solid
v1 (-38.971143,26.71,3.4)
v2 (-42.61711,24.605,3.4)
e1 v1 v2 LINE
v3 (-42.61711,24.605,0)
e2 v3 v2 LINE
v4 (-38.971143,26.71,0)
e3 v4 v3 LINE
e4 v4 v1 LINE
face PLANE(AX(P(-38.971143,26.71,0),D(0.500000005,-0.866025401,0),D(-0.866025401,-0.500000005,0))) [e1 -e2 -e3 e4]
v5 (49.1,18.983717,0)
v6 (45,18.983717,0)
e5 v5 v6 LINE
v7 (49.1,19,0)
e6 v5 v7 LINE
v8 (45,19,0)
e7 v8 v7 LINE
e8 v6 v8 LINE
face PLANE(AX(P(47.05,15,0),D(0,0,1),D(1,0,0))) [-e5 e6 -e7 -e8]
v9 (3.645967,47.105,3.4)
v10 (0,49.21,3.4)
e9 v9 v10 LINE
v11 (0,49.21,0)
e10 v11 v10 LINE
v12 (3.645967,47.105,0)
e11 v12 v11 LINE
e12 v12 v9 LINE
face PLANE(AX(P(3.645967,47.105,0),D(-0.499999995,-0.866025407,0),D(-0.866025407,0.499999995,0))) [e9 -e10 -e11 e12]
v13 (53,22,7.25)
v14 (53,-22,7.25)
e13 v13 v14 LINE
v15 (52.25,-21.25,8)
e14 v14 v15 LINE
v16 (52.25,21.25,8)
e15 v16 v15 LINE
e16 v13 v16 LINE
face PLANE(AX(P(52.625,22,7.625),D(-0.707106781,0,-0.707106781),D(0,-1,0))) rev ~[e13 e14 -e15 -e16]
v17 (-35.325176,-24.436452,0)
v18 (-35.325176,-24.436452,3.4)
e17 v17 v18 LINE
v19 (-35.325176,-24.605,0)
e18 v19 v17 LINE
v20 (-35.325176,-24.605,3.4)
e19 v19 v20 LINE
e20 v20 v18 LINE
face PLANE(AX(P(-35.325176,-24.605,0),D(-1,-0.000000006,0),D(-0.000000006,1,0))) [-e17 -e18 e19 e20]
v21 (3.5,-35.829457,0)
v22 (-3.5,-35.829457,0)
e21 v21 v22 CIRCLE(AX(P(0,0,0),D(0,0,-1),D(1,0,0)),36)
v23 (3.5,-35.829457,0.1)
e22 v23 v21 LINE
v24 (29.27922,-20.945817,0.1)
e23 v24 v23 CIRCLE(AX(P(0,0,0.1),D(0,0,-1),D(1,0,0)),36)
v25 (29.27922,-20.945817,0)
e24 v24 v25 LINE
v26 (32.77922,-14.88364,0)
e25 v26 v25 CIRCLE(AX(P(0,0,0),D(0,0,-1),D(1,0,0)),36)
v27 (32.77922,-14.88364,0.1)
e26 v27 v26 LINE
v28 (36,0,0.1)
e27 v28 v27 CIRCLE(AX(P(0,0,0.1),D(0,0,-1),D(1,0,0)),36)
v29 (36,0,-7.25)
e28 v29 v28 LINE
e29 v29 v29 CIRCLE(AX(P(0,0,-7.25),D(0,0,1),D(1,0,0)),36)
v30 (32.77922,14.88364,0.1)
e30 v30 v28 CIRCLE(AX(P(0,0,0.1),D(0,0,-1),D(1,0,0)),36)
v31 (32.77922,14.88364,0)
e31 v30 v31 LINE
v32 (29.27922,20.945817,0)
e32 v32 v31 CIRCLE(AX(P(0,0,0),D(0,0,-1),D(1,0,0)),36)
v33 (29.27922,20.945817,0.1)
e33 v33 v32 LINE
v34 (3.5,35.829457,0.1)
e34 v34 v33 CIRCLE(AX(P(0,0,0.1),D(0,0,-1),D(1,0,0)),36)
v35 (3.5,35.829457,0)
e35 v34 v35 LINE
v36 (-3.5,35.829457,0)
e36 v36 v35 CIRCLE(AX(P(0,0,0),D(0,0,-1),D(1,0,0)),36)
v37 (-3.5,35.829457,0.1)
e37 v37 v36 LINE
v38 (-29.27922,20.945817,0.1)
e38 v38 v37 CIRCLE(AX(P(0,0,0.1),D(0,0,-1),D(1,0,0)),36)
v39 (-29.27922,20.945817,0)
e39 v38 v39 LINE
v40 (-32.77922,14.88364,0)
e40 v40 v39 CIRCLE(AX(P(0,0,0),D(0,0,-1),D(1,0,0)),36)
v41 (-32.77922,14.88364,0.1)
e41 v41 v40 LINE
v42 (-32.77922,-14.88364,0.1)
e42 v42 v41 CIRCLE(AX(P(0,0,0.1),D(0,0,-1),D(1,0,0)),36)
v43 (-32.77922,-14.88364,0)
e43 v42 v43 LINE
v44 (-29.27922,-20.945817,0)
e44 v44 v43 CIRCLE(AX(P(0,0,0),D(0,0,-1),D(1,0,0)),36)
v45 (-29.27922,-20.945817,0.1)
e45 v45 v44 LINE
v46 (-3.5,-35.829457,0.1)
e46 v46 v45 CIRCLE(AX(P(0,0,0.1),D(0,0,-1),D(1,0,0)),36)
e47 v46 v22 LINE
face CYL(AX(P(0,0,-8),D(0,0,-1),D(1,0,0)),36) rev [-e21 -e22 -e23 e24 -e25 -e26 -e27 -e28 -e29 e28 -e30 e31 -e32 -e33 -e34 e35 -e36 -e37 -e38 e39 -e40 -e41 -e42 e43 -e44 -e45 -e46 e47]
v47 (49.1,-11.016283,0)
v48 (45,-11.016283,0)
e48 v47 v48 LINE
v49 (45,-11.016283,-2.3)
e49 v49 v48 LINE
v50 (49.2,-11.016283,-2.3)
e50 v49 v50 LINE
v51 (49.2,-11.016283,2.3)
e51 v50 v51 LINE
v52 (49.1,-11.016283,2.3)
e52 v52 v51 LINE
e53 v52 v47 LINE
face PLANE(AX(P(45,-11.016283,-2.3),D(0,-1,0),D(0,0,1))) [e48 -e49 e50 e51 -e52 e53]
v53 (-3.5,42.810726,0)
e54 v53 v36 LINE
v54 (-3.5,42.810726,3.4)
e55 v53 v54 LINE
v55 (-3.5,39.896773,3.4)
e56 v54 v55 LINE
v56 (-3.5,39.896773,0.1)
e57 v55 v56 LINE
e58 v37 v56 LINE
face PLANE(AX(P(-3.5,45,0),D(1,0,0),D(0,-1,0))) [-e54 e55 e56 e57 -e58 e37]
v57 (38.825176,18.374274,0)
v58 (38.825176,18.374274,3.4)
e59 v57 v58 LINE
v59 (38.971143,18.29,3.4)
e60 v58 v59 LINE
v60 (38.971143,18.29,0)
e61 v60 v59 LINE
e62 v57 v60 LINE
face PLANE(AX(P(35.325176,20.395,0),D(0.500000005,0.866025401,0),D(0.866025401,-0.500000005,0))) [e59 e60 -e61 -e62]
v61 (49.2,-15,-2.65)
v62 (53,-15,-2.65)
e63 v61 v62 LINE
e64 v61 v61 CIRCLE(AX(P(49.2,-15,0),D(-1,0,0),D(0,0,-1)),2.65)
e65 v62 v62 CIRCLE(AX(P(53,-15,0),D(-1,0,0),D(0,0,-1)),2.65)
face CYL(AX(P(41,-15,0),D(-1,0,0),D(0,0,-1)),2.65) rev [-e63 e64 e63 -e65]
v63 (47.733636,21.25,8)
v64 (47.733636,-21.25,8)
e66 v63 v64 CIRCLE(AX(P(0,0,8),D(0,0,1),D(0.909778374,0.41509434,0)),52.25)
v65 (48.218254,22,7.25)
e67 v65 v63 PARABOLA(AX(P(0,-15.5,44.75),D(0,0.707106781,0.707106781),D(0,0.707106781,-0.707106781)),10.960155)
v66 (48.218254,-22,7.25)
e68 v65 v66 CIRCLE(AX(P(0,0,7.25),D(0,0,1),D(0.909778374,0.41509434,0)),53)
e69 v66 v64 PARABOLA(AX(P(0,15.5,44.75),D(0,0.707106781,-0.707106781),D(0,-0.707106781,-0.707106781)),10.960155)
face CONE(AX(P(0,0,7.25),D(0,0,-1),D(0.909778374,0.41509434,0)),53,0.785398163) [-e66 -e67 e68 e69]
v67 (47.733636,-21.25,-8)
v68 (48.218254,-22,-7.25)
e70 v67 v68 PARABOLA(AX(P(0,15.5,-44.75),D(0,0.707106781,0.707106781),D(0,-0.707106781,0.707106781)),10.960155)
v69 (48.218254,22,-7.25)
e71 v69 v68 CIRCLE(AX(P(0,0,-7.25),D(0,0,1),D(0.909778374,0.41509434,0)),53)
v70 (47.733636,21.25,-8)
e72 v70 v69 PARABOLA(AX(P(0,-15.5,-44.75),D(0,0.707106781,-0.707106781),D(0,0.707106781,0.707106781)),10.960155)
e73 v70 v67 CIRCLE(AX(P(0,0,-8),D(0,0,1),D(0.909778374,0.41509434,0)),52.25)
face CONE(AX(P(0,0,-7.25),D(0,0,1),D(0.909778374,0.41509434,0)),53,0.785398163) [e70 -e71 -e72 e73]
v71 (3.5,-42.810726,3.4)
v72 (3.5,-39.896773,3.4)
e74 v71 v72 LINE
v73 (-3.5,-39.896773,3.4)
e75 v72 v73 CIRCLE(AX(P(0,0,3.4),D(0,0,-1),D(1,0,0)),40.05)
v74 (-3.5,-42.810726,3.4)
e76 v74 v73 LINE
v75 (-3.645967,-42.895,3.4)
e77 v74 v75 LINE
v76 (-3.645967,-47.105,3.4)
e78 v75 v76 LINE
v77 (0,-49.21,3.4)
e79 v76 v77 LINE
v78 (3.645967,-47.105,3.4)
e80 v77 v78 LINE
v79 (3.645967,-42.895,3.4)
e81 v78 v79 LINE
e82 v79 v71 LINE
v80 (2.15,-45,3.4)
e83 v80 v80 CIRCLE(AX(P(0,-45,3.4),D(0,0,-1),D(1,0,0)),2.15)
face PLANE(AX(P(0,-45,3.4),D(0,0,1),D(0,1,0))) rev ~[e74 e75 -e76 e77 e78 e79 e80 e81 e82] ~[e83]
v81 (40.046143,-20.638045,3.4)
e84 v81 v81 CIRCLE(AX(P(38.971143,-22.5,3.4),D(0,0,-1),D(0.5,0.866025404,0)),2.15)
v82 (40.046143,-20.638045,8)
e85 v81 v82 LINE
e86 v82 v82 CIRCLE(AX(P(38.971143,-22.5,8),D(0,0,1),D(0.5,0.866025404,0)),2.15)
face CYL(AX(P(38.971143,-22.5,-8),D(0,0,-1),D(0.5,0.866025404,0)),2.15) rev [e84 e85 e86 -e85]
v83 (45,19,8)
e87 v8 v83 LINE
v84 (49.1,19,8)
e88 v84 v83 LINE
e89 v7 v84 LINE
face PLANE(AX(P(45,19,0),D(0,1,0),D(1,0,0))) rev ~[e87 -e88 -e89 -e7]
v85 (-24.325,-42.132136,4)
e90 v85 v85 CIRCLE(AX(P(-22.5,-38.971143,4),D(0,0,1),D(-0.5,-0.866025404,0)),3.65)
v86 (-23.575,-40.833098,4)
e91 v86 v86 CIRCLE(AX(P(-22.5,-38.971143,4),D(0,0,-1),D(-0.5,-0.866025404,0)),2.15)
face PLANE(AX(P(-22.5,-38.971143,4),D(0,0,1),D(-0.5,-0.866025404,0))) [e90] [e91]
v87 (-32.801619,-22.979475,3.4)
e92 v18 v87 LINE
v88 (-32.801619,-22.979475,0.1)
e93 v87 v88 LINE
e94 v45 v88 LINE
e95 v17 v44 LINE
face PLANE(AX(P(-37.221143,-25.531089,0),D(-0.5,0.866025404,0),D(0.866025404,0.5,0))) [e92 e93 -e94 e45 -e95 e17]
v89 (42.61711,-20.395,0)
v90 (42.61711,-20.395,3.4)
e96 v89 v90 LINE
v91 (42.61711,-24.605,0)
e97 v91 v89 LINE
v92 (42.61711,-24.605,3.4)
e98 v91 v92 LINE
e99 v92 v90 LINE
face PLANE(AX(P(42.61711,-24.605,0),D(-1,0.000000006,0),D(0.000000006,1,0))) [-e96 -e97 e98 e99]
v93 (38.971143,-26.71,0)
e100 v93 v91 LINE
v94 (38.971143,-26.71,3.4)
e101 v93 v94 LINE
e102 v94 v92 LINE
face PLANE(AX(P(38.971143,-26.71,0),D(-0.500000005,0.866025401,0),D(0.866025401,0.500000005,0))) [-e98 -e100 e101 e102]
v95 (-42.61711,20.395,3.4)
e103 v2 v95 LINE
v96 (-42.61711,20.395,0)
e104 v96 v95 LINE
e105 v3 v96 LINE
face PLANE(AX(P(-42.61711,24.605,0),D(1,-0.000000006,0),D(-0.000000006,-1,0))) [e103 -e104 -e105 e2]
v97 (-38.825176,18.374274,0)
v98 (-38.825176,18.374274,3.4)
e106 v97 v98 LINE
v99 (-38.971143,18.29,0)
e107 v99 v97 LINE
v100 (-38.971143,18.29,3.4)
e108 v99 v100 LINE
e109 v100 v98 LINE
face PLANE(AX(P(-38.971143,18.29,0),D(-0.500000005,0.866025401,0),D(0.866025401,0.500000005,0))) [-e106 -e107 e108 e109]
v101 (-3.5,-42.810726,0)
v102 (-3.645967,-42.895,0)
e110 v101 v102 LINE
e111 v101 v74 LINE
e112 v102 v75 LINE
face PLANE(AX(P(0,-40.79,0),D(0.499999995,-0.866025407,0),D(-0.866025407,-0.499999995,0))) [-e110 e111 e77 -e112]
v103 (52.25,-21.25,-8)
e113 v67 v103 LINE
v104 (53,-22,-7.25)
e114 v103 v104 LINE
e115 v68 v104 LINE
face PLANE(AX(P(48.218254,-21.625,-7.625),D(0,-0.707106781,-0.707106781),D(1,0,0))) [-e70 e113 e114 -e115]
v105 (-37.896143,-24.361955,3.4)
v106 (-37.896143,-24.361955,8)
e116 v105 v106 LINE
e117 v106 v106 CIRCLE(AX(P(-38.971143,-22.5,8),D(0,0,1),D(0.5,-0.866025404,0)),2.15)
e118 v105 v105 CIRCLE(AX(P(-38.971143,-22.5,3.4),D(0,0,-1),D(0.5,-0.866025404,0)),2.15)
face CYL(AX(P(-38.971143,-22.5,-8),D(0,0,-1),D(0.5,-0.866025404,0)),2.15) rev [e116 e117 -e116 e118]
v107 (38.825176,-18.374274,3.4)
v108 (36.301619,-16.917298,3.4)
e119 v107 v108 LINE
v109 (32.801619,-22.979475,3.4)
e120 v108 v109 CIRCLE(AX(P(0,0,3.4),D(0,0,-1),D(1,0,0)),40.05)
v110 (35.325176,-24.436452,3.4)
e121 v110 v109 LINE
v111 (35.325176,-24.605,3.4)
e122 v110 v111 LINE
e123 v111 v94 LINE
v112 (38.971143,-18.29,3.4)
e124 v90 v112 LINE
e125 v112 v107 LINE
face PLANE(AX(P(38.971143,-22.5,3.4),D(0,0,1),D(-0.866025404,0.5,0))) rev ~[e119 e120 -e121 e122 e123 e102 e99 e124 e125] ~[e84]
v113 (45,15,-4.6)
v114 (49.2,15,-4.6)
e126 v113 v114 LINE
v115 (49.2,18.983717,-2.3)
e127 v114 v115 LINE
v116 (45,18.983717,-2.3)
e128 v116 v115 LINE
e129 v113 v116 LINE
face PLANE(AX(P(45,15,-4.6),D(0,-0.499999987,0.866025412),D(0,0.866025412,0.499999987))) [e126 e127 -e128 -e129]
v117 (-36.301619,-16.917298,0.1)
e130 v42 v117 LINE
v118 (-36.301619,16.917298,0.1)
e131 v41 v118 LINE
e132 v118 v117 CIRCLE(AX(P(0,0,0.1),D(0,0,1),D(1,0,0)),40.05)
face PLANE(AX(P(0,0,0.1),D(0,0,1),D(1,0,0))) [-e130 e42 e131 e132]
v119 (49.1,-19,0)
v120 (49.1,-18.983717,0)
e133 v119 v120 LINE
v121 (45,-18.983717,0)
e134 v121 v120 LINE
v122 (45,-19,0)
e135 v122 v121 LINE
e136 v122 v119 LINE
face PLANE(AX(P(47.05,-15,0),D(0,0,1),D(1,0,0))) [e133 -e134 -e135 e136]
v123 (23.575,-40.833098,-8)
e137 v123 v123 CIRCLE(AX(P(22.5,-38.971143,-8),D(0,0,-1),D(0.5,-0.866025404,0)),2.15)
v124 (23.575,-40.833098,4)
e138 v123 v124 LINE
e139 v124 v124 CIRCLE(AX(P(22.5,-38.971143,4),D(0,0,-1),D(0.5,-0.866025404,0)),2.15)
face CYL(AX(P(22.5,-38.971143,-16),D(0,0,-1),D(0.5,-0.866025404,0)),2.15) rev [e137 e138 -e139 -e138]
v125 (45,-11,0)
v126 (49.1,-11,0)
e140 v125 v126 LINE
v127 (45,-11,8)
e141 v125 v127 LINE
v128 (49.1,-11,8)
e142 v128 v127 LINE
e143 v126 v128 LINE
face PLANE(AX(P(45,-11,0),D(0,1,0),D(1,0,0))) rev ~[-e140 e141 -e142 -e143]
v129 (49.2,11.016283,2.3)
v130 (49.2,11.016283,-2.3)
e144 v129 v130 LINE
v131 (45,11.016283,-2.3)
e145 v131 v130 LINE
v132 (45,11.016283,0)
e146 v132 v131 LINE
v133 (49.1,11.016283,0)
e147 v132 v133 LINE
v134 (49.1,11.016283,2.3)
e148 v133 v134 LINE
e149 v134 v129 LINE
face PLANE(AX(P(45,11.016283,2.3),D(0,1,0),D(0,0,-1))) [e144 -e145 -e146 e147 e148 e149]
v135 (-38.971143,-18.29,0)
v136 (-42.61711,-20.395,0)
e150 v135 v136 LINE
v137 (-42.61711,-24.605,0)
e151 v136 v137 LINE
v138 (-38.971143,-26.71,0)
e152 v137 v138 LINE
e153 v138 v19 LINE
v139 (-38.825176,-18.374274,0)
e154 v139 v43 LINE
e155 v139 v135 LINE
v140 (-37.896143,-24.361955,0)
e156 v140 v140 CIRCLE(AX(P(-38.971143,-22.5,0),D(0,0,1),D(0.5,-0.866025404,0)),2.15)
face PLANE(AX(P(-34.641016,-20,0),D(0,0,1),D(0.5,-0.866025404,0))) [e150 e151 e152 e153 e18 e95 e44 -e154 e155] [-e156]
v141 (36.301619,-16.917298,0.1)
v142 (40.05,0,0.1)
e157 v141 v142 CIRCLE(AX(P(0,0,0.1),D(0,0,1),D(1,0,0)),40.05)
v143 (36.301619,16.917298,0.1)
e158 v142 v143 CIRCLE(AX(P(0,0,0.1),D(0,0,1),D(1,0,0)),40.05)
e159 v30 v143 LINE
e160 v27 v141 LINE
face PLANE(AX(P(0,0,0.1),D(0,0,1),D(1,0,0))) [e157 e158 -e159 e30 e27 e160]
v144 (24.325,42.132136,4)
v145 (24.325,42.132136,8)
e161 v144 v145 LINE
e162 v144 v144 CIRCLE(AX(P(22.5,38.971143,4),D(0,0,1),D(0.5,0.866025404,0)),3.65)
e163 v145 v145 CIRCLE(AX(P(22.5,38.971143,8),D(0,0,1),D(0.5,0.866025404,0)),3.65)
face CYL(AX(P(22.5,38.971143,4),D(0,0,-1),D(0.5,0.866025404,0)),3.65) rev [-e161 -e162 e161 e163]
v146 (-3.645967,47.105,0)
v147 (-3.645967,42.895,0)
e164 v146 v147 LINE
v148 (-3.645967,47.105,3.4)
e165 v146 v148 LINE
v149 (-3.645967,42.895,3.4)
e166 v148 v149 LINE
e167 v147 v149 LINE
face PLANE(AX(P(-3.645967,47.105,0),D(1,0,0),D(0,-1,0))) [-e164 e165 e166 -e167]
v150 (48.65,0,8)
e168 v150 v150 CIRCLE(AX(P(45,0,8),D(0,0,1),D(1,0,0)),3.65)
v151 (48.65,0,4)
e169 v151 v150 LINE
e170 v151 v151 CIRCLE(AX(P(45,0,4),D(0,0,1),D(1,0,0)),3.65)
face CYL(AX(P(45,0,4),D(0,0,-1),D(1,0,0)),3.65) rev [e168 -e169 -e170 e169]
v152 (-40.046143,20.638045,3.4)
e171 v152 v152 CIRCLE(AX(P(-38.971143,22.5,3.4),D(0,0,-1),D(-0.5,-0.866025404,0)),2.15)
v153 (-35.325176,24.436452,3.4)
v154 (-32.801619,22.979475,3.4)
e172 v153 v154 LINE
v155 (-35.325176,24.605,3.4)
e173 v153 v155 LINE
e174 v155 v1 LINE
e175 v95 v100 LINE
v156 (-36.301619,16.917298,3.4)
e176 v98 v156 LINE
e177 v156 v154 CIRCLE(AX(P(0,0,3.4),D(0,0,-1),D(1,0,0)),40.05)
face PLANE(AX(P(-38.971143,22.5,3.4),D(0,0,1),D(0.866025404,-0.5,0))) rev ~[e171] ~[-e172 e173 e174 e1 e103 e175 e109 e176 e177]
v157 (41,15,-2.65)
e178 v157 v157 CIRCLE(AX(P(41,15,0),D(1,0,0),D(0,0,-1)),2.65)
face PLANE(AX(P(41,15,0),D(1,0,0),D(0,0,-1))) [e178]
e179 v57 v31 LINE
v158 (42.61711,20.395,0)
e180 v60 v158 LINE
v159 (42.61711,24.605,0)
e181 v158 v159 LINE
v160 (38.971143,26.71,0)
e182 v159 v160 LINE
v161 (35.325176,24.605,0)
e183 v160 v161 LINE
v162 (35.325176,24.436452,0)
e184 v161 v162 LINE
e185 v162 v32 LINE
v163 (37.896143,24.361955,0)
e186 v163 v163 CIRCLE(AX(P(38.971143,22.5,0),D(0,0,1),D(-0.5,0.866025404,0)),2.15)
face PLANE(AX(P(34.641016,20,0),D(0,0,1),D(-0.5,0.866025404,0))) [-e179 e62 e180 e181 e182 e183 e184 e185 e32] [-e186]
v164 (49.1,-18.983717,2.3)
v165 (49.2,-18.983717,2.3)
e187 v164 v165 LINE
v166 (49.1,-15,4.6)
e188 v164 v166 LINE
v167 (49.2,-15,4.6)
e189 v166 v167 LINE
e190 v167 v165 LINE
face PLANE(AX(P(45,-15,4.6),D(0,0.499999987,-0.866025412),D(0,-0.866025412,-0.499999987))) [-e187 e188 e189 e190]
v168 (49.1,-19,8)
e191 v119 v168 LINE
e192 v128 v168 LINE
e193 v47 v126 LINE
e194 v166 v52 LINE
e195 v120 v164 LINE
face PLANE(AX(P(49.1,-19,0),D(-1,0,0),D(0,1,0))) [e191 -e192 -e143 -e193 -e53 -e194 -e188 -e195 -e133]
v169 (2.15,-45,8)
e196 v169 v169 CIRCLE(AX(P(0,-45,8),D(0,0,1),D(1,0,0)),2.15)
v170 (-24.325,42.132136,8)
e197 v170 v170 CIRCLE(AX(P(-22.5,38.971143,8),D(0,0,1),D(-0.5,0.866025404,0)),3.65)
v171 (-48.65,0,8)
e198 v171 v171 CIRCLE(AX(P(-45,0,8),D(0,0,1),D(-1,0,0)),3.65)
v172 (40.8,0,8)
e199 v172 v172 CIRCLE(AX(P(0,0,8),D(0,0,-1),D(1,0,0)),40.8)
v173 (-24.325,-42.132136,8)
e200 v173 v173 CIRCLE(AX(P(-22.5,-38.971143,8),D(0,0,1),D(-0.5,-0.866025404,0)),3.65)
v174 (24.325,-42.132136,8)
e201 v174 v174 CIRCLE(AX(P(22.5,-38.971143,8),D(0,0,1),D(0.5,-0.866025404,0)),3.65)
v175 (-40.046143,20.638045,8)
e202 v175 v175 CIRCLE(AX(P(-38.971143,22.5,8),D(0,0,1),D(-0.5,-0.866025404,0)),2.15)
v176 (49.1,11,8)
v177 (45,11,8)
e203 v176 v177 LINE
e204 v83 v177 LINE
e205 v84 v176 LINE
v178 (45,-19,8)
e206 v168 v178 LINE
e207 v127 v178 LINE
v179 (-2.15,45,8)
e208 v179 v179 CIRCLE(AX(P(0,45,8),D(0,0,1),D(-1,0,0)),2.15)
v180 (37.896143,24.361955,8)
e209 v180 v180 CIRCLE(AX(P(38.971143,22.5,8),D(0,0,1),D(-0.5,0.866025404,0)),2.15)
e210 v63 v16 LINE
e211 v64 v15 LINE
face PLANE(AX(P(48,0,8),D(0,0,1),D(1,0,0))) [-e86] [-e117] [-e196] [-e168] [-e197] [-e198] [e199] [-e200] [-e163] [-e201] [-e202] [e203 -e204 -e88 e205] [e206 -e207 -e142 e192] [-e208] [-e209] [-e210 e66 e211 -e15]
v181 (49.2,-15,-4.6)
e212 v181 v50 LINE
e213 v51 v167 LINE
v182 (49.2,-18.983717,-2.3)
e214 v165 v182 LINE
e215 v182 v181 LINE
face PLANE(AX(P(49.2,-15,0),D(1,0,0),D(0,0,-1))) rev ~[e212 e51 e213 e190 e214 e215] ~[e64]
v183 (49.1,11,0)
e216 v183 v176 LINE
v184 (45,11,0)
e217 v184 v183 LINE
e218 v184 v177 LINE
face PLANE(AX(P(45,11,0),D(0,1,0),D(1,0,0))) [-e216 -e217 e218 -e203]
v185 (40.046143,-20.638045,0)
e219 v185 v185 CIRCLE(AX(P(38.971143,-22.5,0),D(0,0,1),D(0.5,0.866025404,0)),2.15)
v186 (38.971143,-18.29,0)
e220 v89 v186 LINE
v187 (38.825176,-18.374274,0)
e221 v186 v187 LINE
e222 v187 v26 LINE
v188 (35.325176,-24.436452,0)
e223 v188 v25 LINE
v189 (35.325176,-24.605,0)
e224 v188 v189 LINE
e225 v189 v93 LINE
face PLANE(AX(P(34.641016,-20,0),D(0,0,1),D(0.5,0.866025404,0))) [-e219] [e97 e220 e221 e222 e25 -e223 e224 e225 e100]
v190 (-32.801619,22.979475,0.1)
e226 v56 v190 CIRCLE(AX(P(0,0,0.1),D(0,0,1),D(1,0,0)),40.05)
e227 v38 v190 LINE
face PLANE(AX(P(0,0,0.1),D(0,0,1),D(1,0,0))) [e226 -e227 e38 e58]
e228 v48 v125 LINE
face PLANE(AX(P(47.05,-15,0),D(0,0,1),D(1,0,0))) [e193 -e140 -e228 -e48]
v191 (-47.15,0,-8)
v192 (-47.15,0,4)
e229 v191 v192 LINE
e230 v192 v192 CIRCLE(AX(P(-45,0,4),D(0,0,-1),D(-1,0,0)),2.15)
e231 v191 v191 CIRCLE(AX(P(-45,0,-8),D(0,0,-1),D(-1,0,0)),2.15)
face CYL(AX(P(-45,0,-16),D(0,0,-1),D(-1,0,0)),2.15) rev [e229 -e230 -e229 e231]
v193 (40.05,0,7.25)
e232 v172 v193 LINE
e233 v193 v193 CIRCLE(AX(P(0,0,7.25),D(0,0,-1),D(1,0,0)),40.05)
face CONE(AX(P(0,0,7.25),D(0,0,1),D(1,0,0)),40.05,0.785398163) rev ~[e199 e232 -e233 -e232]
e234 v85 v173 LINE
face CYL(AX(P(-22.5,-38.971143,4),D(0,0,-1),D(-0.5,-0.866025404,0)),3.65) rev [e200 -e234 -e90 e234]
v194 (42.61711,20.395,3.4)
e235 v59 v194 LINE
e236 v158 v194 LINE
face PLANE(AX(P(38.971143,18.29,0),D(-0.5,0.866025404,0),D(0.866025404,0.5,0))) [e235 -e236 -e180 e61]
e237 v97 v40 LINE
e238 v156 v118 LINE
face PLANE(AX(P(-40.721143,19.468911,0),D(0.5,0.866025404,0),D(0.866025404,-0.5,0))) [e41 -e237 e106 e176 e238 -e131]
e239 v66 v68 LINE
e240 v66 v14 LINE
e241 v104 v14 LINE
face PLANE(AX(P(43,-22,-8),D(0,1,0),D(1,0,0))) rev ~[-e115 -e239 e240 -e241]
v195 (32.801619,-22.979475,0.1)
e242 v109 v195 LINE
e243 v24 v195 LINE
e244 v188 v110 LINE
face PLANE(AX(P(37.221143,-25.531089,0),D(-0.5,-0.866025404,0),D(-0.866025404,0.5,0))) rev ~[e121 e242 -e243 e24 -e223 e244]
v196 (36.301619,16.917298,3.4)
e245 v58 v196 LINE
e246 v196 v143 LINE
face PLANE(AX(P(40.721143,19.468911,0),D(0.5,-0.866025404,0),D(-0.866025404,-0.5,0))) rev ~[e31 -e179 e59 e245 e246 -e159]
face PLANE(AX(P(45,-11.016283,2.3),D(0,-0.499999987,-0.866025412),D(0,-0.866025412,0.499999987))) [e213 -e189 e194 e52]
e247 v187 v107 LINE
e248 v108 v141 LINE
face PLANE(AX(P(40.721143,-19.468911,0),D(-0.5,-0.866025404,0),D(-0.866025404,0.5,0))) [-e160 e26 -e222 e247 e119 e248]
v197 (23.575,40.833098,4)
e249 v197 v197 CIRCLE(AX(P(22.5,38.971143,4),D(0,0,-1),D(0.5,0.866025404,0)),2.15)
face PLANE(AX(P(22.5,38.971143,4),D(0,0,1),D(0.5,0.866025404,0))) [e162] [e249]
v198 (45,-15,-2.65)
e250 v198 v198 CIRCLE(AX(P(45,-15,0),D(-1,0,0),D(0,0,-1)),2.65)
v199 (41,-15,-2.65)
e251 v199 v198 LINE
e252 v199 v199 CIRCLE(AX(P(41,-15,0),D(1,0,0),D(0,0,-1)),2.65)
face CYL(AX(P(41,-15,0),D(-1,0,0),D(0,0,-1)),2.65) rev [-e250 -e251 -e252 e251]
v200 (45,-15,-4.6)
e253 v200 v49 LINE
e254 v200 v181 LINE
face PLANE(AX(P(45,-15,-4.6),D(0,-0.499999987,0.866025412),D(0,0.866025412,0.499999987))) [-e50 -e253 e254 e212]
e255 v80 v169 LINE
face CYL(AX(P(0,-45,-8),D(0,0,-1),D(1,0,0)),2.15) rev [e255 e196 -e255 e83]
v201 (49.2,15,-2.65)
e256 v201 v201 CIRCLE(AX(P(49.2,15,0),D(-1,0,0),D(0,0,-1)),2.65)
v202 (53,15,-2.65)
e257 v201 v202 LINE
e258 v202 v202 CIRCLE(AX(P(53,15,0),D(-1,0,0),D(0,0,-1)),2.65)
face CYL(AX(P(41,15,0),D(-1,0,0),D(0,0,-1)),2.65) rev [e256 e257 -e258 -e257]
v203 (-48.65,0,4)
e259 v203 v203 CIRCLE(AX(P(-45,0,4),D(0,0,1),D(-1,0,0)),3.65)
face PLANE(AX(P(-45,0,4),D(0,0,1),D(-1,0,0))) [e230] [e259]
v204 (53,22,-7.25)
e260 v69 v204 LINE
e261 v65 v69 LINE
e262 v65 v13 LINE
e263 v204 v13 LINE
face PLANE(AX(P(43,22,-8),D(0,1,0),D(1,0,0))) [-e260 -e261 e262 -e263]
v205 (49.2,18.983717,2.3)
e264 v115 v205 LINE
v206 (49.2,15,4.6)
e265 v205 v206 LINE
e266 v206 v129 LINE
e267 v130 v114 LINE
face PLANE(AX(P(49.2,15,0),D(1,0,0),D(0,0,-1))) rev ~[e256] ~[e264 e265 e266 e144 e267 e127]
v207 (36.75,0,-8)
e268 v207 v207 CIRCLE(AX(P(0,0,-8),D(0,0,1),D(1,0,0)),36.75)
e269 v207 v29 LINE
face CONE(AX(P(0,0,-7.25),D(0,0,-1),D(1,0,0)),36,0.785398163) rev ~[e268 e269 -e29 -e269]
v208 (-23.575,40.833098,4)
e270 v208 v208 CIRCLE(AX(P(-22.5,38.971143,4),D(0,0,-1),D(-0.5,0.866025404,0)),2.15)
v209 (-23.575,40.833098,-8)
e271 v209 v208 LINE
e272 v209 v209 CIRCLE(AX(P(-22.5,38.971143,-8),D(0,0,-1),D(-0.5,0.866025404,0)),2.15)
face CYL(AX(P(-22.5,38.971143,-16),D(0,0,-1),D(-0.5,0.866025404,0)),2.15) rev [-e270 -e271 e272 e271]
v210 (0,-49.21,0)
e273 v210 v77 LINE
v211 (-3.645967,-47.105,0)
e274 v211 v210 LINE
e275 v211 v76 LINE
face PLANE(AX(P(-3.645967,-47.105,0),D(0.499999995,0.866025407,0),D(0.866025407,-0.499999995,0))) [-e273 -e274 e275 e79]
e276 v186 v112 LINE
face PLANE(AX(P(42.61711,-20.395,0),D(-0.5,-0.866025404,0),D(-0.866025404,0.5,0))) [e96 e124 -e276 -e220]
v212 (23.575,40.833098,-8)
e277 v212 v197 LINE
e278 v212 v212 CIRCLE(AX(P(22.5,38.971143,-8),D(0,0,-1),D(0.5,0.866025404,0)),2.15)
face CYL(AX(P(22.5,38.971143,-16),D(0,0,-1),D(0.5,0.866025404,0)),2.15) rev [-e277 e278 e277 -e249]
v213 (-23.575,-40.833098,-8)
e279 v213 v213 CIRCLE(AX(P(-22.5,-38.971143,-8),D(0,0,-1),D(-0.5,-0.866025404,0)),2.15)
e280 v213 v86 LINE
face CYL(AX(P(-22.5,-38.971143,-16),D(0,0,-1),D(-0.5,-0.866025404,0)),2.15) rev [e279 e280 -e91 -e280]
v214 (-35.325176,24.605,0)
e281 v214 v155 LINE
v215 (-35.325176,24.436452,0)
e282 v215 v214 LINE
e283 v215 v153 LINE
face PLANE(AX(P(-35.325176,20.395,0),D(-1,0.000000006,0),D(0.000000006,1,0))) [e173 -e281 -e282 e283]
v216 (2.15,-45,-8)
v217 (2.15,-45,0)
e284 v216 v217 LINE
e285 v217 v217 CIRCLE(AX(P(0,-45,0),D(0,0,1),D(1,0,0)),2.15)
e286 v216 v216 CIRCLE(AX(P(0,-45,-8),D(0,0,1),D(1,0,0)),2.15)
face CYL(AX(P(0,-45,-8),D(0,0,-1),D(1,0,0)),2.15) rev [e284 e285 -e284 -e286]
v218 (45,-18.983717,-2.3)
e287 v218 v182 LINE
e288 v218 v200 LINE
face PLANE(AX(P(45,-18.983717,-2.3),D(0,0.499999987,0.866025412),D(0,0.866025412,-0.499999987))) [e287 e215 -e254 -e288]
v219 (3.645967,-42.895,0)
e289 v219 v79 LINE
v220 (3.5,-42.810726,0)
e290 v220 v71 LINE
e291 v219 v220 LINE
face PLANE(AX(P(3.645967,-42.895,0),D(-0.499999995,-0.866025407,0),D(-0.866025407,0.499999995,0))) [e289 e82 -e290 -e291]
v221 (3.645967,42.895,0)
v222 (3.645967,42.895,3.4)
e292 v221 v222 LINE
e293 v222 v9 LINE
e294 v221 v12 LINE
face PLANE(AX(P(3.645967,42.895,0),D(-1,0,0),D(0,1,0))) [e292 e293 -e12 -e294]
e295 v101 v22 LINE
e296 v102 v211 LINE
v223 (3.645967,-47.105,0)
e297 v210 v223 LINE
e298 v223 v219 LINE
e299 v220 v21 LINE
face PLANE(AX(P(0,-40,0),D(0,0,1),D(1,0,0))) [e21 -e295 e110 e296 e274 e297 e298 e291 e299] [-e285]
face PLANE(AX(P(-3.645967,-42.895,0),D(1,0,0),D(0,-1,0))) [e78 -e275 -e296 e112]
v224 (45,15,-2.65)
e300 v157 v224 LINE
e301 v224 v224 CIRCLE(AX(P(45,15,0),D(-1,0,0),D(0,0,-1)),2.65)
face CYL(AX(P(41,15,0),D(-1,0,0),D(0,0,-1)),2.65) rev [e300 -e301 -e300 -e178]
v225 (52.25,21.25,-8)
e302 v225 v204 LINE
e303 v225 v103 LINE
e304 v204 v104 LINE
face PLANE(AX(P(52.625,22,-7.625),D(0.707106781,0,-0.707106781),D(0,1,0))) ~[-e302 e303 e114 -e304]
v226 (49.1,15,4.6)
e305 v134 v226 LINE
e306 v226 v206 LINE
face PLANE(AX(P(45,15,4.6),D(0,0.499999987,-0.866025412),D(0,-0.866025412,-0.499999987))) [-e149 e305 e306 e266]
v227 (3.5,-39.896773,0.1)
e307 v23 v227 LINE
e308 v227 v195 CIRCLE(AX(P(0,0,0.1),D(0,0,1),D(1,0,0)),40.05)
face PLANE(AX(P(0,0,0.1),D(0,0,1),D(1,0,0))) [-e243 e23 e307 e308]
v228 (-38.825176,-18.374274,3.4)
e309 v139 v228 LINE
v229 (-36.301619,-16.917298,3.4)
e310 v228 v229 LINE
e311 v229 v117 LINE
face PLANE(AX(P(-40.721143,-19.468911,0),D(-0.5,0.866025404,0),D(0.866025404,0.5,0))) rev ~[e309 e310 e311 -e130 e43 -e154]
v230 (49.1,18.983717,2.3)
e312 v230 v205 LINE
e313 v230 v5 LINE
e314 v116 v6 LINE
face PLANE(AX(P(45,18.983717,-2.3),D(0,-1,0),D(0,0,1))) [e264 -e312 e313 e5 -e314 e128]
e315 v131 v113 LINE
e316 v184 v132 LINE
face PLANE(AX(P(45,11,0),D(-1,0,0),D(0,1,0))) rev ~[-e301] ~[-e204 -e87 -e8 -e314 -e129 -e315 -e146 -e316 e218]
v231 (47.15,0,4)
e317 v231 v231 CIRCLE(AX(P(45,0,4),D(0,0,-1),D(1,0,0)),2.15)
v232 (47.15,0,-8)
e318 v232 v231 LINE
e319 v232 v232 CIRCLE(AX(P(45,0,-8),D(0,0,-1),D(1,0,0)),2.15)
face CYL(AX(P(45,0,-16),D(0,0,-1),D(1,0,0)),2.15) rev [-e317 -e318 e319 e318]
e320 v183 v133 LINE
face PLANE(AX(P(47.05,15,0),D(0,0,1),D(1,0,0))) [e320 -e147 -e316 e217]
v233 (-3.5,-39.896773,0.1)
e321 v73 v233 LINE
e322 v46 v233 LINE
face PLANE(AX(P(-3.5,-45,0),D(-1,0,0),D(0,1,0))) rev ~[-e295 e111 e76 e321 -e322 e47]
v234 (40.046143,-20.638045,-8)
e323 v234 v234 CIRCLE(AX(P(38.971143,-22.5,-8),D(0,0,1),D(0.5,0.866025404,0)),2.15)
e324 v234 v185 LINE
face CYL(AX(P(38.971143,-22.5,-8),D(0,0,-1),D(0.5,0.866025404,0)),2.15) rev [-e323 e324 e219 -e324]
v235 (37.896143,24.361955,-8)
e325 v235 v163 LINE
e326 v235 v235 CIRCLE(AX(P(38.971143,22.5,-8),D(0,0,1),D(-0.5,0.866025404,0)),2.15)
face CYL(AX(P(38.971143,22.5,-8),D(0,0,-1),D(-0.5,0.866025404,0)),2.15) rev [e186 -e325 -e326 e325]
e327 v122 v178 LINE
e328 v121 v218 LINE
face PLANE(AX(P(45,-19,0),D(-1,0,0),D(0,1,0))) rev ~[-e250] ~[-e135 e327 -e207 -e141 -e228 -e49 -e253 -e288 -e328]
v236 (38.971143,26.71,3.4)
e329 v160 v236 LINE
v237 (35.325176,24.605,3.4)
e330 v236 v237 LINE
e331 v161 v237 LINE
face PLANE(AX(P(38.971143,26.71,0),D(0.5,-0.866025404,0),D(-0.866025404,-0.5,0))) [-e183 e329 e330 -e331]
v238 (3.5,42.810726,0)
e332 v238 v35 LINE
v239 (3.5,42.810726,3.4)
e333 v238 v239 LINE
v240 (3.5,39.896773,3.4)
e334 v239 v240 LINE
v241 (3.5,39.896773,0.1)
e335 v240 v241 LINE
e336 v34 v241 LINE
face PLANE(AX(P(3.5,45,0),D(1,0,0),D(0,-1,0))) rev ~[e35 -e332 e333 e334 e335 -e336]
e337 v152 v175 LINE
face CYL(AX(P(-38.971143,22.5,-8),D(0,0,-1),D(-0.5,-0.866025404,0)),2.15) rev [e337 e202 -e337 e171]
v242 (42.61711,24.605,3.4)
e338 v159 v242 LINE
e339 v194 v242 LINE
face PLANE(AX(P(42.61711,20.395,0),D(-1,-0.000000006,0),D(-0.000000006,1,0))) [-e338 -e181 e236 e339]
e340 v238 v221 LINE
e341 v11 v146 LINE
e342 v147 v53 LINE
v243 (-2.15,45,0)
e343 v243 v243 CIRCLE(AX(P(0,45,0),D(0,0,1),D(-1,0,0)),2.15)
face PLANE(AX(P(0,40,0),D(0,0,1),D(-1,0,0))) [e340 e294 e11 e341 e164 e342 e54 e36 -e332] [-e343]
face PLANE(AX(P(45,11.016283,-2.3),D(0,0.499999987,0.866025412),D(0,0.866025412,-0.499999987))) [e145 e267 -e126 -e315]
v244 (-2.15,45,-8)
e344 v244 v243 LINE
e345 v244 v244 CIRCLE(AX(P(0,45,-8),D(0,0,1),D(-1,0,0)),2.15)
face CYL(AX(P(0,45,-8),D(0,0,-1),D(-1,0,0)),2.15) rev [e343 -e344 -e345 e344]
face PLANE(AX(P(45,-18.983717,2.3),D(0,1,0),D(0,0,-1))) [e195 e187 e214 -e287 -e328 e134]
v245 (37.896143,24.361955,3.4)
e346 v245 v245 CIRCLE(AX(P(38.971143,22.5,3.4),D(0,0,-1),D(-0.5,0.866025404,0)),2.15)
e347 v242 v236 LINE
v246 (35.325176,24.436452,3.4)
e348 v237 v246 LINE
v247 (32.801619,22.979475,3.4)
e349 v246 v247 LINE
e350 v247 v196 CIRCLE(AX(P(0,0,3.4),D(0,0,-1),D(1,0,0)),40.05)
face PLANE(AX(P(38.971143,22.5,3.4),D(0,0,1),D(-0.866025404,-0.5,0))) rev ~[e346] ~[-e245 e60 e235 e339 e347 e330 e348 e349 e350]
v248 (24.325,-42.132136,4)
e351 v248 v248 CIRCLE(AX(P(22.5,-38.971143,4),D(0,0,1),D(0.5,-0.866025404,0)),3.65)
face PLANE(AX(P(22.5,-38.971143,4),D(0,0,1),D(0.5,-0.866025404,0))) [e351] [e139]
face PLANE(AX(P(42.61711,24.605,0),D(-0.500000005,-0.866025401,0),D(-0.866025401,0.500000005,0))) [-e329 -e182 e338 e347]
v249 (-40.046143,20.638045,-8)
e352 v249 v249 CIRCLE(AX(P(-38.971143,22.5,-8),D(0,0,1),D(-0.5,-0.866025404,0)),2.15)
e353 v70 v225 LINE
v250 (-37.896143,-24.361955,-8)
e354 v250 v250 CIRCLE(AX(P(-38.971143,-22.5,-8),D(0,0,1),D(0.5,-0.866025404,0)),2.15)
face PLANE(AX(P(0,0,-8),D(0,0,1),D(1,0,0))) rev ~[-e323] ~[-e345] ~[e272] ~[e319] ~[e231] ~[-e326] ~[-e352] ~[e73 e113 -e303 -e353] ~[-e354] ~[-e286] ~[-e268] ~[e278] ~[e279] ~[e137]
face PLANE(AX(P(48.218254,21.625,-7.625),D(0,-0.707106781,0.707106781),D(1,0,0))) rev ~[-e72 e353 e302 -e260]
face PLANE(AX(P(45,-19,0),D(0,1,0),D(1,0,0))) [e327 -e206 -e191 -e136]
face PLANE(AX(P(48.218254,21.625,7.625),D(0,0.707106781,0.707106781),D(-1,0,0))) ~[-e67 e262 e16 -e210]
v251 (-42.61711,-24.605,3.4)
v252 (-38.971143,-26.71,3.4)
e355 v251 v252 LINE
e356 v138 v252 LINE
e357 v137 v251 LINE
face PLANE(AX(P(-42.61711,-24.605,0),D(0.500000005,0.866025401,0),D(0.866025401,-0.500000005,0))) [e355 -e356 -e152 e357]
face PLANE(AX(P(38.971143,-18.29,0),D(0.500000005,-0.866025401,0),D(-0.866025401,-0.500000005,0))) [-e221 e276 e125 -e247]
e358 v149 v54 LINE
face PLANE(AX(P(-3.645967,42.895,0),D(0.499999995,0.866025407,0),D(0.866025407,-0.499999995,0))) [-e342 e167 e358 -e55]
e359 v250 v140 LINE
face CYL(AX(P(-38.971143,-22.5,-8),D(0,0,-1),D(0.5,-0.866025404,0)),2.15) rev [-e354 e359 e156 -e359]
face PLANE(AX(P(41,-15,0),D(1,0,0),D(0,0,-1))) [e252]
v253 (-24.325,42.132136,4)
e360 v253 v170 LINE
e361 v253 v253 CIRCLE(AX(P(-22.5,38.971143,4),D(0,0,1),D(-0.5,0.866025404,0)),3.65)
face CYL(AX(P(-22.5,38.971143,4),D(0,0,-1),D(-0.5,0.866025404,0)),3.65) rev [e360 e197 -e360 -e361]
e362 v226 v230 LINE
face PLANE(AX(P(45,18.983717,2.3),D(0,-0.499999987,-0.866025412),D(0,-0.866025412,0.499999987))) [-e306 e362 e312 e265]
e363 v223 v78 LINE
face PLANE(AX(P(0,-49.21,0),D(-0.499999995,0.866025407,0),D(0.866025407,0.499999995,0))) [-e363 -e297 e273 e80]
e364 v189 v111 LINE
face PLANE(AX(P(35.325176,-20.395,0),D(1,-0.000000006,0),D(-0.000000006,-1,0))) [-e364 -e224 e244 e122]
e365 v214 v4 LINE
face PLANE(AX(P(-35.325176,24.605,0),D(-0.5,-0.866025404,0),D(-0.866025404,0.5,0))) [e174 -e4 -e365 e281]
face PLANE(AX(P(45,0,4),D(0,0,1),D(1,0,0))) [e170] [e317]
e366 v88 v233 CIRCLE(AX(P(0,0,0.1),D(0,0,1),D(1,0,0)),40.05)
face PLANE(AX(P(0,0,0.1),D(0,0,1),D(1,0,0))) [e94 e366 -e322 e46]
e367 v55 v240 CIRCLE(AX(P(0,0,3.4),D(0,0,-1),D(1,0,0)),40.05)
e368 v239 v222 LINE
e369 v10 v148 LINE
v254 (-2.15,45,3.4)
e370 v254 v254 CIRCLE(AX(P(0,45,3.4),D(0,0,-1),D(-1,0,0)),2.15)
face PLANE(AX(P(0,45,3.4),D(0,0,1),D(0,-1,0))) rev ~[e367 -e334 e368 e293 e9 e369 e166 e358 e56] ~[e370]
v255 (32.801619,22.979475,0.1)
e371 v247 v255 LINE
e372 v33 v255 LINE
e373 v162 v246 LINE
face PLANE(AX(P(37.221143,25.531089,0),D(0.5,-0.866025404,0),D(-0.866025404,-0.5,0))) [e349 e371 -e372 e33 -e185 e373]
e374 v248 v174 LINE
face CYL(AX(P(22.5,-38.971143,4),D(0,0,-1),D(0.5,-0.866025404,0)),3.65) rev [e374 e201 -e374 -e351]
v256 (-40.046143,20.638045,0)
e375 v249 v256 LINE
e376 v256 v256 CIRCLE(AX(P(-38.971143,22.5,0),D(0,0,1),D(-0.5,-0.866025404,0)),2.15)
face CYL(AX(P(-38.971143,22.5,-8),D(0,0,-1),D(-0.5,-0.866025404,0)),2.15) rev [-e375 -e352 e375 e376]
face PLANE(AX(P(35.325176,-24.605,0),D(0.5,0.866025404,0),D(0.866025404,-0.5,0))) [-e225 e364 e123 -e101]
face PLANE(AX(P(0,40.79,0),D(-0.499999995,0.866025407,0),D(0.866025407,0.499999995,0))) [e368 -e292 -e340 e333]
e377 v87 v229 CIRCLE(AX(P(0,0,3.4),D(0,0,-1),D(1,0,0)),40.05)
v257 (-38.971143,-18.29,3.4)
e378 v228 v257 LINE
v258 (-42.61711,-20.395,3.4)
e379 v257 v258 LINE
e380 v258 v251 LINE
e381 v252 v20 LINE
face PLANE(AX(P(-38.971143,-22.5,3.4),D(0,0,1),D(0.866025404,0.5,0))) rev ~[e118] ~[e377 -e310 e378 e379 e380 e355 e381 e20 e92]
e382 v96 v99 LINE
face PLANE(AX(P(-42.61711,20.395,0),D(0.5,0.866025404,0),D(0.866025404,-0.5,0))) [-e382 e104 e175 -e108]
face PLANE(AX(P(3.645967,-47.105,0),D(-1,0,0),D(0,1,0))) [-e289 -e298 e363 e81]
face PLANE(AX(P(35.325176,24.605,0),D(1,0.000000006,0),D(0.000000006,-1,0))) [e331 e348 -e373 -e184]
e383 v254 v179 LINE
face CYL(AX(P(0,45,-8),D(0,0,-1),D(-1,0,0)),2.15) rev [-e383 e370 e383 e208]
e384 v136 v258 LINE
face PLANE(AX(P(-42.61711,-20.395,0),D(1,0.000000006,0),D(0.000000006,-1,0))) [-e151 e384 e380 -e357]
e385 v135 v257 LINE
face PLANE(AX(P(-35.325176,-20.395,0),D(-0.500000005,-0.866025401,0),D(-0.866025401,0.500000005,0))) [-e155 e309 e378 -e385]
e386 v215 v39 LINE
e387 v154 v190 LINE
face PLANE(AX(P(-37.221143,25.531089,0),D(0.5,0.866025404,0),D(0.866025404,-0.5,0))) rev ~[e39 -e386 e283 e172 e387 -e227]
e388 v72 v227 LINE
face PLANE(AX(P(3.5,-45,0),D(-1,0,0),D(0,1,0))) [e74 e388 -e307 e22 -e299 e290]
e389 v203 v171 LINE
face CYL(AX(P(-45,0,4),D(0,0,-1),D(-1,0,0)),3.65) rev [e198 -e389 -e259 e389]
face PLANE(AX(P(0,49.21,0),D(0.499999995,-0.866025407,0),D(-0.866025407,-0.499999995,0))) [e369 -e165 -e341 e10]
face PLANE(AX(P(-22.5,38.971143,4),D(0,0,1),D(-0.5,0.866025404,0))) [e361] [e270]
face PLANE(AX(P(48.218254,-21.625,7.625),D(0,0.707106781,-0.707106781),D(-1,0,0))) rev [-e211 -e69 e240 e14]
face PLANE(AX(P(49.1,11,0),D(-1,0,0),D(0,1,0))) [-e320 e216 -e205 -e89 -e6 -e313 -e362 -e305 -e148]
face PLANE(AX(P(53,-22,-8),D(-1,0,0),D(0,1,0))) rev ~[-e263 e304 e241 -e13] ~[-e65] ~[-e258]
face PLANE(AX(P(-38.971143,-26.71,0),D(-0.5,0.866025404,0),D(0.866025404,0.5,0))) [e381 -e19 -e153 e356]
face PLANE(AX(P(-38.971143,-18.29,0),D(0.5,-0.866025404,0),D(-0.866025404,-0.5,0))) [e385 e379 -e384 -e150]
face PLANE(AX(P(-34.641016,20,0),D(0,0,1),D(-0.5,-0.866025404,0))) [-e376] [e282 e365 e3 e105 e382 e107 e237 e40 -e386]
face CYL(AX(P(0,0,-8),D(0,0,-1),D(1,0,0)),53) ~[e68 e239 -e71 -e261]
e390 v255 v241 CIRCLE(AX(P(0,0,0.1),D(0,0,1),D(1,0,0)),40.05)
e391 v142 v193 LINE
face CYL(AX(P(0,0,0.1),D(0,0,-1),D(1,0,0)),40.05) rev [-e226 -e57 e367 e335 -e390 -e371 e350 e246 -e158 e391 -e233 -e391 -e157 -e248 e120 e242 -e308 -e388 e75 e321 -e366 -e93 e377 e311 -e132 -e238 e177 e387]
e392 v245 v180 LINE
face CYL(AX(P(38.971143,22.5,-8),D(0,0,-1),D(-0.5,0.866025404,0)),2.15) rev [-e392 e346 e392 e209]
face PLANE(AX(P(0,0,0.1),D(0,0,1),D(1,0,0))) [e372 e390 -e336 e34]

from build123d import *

# Parameters (mm, degrees)
CYLINDER014005872_R                            = 40.05
CYLINDER014005872_DEPTH                        = 16
CYLINDER014005874_R                            = 3.65
CYLINDER014005874_DEPTH                        = 4
CYLINDER014005873_R                            = 2.15
CYLINDER014005873_DEPTH                        = 24
FUSION001089102007007003001_PLACEMENT_ANGLE    = 60
FUSION001089102007007003002_PLACEMENT_ANGLE    = 120
FUSION001089102007007003003_PLACEMENT_ANGLE    = 180
FUSION001089102007007003004_PLACEMENT_ANGLE    = 240
FUSION001089102007007003005_PLACEMENT_ANGLE    = 60
BOX002_W                                       = 7
BOX002_H                                       = 10
BOX002_DEPTH                                   = 3.4
PRISM003_DEPTH                                 = 3.4
CYLINDER014005875_R                            = 2.15
CYLINDER014005875_DEPTH                        = 16
FUSION001089102007007003008001_PLACEMENT_ANGLE = 60
FUSION001089102007007003008002_PLACEMENT_ANGLE = 120
FUSION001089102007007003008003_PLACEMENT_ANGLE = 180
FUSION001089102007007003008004_PLACEMENT_ANGLE = 240
FUSION001089102007007003008005_PLACEMENT_ANGLE = 60
BOX003_W                                       = 4.1
BOX003_H                                       = 8
BOX003_DEPTH                                   = 10
CYLINDER014005876_R                            = 2.65
CYLINDER014005876_DEPTH                        = 14
PRISM004_DEPTH                                 = 4.2
BOX004_W                                       = 4.1
BOX004_H                                       = 8
BOX004_DEPTH                                   = 10
CYLINDER014005877_R                            = 2.65
CYLINDER014005877_DEPTH                        = 14
PRISM005_DEPTH                                 = 4.2
CYLINDER014005871_R                            = 36
CYLINDER014005871_DEPTH                        = 16
BOX_W                                          = 10
BOX_H                                          = 44
BOX_DEPTH                                      = 16
CYLINDER014005870_R                            = 53
CYLINDER014005870_DEPTH                        = 16
CHAMFER012_SIZE                                = 0.75


with BuildPart() as v_lec782:
    # Cylinder014005872 → Cylinder014005872 (new body)
    with BuildSketch(Plane.XY.offset(0.1)):
        Circle(CYLINDER014005872_R)
    extrude(amount=CYLINDER014005872_DEPTH)


with BuildPart() as v_lec784:
    # Cylinder014005874 → Cylinder014005874 (new body)
    with BuildSketch(Plane(origin=(45, 0, 4), x_dir=(1, 0, 0), z_dir=(0, 0, 1))):
        Circle(CYLINDER014005874_R)
    extrude(amount=CYLINDER014005874_DEPTH)


with BuildPart() as inbusl1:
    # Cylinder014005873 → Cylinder014005873 (new body)
    with BuildSketch(Plane(origin=(45, 0, -16), x_dir=(1, 0, 0), z_dir=(0, 0, 1))):
        Circle(CYLINDER014005873_R)
    extrude(amount=CYLINDER014005873_DEPTH)

    # Fusion001089102007007003: union Válec784
    add(v_lec784.part)


with BuildPart() as inbusl002:
    # Fusion001089102007007003001 base: copy of inbusL1
    add(inbusl1.part)


with BuildPart() as inbusl002_1:
    # Fusion001089102007007003001 placement: moved
    add(inbusl002.part.rotate(Axis((0, 0, 0), (0, 0, 1)), FUSION001089102007007003001_PLACEMENT_ANGLE))


with BuildPart() as inbusl003:
    # Fusion001089102007007003002 base: copy of inbusL1
    add(inbusl1.part)


with BuildPart() as inbusl003_1:
    # Fusion001089102007007003002 placement: moved
    add(inbusl003.part.rotate(Axis((0, 0, 0), (0, 0, 1)), FUSION001089102007007003002_PLACEMENT_ANGLE))


with BuildPart() as inbusl004:
    # Fusion001089102007007003003 base: copy of inbusL1
    add(inbusl1.part)


with BuildPart() as inbusl004_1:
    # Fusion001089102007007003003 placement: moved
    add(inbusl004.part.rotate(Axis((0, 0, 0), (0, 0, 1)), FUSION001089102007007003003_PLACEMENT_ANGLE))


with BuildPart() as inbusl005:
    # Fusion001089102007007003004 base: copy of inbusL1
    add(inbusl1.part)


with BuildPart() as inbusl005_1:
    # Fusion001089102007007003004 placement: moved
    add(inbusl005.part.rotate(Axis((0, 0, 0), (0, 0, 1)), FUSION001089102007007003004_PLACEMENT_ANGLE))


with BuildPart() as inbusl006:
    # Fusion001089102007007003005 base: copy of inbusL1
    add(inbusl1.part)


with BuildPart() as inbusl006_1:
    # Fusion001089102007007003005 placement: moved
    add(inbusl006.part.rotate(Axis((0, 0, 0), (0, 0, -1)), FUSION001089102007007003005_PLACEMENT_ANGLE))


with BuildPart() as fusion001089102007007003006:
    # Fusion001089102007007003006 base: copy of inbusL1
    add(inbusl1.part)

    # Fusion001089102007007003006: union inbusL002, inbusL003, inbusL004, inbusL005, inbusL006
    add(inbusl002_1.part)
    add(inbusl003_1.part)
    add(inbusl004_1.part)
    add(inbusl005_1.part)
    add(inbusl006_1.part)


with BuildPart() as krychle002:
    # Box002 → Box002 (new body)
    with BuildSketch(Plane(origin=(-3.5, 0, 0), x_dir=(1, 0, 0), z_dir=(0, 0, 1))):
        with Locations((3.5, 5)):
            Rectangle(BOX002_W, BOX002_H)
    extrude(amount=BOX002_DEPTH)


with BuildPart() as m4x003:
    # prism003 → prism003 (new body)
    with BuildSketch(Plane(origin=(0, 0, 0), x_dir=(0, 1, 0), z_dir=(0, 0, 1))):
        Polygon((4.21, 0), (2.105, 3.645967), (-2.105, 3.645967), (-4.21, 0), (-2.105, -3.645967), (2.105, -3.645967), align=None)
    extrude(amount=PRISM003_DEPTH)


with BuildPart() as m4nut:
    # Cylinder014005875 → Cylinder014005875 (new body)
    with BuildSketch(Plane.XY.offset(-8)):
        Circle(CYLINDER014005875_R)
    extrude(amount=CYLINDER014005875_DEPTH)

    # Fusion001089102007007003008: union Krychle002, M4X003
    add(krychle002.part)
    add(m4x003.part)


with BuildPart() as m4nut_1:
    # Fusion001089102007007003008 placement: moved
    add(m4nut.part.moved(Location((0, -45, 0))))


with BuildPart() as m4nut001:
    # Fusion001089102007007003008001 base: copy of M4nut
    add(m4nut_1.part)


with BuildPart() as m4nut001_1:
    # Fusion001089102007007003008001 placement: moved
    add(m4nut001.part.rotate(Axis((0, 0, 0), (0, 0, 1)), FUSION001089102007007003008001_PLACEMENT_ANGLE))


with BuildPart() as m4nut002:
    # Fusion001089102007007003008002 base: copy of M4nut
    add(m4nut_1.part)


with BuildPart() as m4nut002_1:
    # Fusion001089102007007003008002 placement: moved
    add(m4nut002.part.rotate(Axis((0, 0, 0), (0, 0, 1)), FUSION001089102007007003008002_PLACEMENT_ANGLE))


with BuildPart() as m4nut003:
    # Fusion001089102007007003008003 base: copy of M4nut
    add(m4nut_1.part)


with BuildPart() as m4nut003_1:
    # Fusion001089102007007003008003 placement: moved
    add(m4nut003.part.rotate(Axis((0, 0, 0), (0, 0, 1)), FUSION001089102007007003008003_PLACEMENT_ANGLE))


with BuildPart() as m4nut004:
    # Fusion001089102007007003008004 base: copy of M4nut
    add(m4nut_1.part)


with BuildPart() as m4nut004_1:
    # Fusion001089102007007003008004 placement: moved
    add(m4nut004.part.rotate(Axis((0, 0, 0), (0, 0, 1)), FUSION001089102007007003008004_PLACEMENT_ANGLE))


with BuildPart() as m4nut005:
    # Fusion001089102007007003008005 base: copy of M4nut
    add(m4nut_1.part)


with BuildPart() as m4nut005_1:
    # Fusion001089102007007003008005 placement: moved
    add(m4nut005.part.rotate(Axis((0, 0, 0), (0, 0, -1)), FUSION001089102007007003008005_PLACEMENT_ANGLE))


with BuildPart() as fusion001089102007007003008006:
    # Fusion001089102007007003008006 base: copy of M4nut
    add(m4nut_1.part)

    # Fusion001089102007007003008006: union M4nut001, M4nut002, M4nut003, M4nut004, M4nut005
    add(m4nut001_1.part)
    add(m4nut002_1.part)
    add(m4nut003_1.part)
    add(m4nut004_1.part)
    add(m4nut005_1.part)


with BuildPart() as krychle003:
    # Box003 → Box003 (new body)
    with BuildSketch(Plane(origin=(0, -4, 0), x_dir=(1, 0, 0), z_dir=(0, 0, 1))):
        with Locations((2.05, 4)):
            Rectangle(BOX003_W, BOX003_H)
    extrude(amount=BOX003_DEPTH)


with BuildPart() as v_lec786:
    # Cylinder014005876 → Cylinder014005876 (new body)
    with BuildSketch(Plane(origin=(-4, 0, 0), x_dir=(0, 0, -1), z_dir=(1, 0, 0))):
        Circle(CYLINDER014005876_R)
    extrude(amount=CYLINDER014005876_DEPTH)


with BuildPart() as m5:
    # prism004 → prism004 (new body)
    with BuildSketch(Plane(origin=(0, 0, 0), x_dir=(0, 0, -1), z_dir=(1, 0, 0))):
        Polygon((4.6, 0), (2.3, 3.983717), (-2.3, 3.983717), (-4.6, 0), (-2.3, -3.983717), (2.3, -3.983717), align=None)
    extrude(amount=PRISM004_DEPTH)

    # Fusion001089102007007003008007: union Krychle003, Válec786
    add(krychle003.part)
    add(v_lec786.part)


with BuildPart() as m5_1:
    # Fusion001089102007007003008007 placement: moved
    add(m5.part.moved(Location((45, 15, 0))))


with BuildPart() as krychle004:
    # Box004 → Box004 (new body)
    with BuildSketch(Plane(origin=(0, -4, 0), x_dir=(1, 0, 0), z_dir=(0, 0, 1))):
        with Locations((2.05, 4)):
            Rectangle(BOX004_W, BOX004_H)
    extrude(amount=BOX004_DEPTH)


with BuildPart() as v_lec787:
    # Cylinder014005877 → Cylinder014005877 (new body)
    with BuildSketch(Plane(origin=(-4, 0, 0), x_dir=(0, 0, -1), z_dir=(1, 0, 0))):
        Circle(CYLINDER014005877_R)
    extrude(amount=CYLINDER014005877_DEPTH)


with BuildPart() as m006:
    # prism005 → prism005 (new body)
    with BuildSketch(Plane(origin=(0, 0, 0), x_dir=(0, 0, -1), z_dir=(1, 0, 0))):
        Polygon((4.6, 0), (2.3, 3.983717), (-2.3, 3.983717), (-4.6, 0), (-2.3, -3.983717), (2.3, -3.983717), align=None)
    extrude(amount=PRISM005_DEPTH)

    # Fusion001089102007007003008008: union Krychle004, Válec787
    add(krychle004.part)
    add(v_lec787.part)


with BuildPart() as m006_1:
    # Fusion001089102007007003008008 placement: moved
    add(m006.part.moved(Location((45, -15, 0))))


with BuildPart() as fusion001089102007007002:
    # Cylinder014005871 → Cylinder014005871 (new body)
    with BuildSketch(Plane.XY.offset(-8)):
        Circle(CYLINDER014005871_R)
    extrude(amount=CYLINDER014005871_DEPTH)

    # Fusion001089102007007002: union Válec782, Fusion001089102007007003006, Fusion001089102007007003008006, M5, M006
    add(v_lec782.part)
    add(fusion001089102007007003006.part)
    add(fusion001089102007007003008006.part)
    add(m5_1.part)
    add(m006_1.part)


with BuildPart() as krychle:
    # Box → Box (new body)
    with BuildSketch(Plane(origin=(43, -22, -8), x_dir=(1, 0, 0), z_dir=(0, 0, 1))):
        with Locations((5, 22)):
            Rectangle(BOX_W, BOX_H)
    extrude(amount=BOX_DEPTH)


with BuildPart() as outputc:
    # Cylinder014005870 → Cylinder014005870 (new body)
    with BuildSketch(Plane.XY.offset(-8)):
        Circle(CYLINDER014005870_R)
    extrude(amount=CYLINDER014005870_DEPTH)

    # Fusion001089102007007003007: union Krychle
    add(krychle.part)

    # Cut009003003009003: cut Fusion001089102007007002
    add(fusion001089102007007002.part, mode=Mode.SUBTRACT)

    # Chamfer012
    chamfer012_edges = [outputc.edges().sort_by_distance(p)[0] for p in [
        (-53, 0, 8),
        (-53, 0, -8),
        (50.609127, 22, -8),
        (50.609127, 22, 8),
        (50.609127, -22, -8),
        (50.609127, -22, 8),
        (53, 0, -8),
        (-36, 0, -8),
        (-40.05, 0, 8),
        (53, 0, 8),
    ]]
    chamfer(chamfer012_edges, length=CHAMFER012_SIZE)


solid = outputc.part
